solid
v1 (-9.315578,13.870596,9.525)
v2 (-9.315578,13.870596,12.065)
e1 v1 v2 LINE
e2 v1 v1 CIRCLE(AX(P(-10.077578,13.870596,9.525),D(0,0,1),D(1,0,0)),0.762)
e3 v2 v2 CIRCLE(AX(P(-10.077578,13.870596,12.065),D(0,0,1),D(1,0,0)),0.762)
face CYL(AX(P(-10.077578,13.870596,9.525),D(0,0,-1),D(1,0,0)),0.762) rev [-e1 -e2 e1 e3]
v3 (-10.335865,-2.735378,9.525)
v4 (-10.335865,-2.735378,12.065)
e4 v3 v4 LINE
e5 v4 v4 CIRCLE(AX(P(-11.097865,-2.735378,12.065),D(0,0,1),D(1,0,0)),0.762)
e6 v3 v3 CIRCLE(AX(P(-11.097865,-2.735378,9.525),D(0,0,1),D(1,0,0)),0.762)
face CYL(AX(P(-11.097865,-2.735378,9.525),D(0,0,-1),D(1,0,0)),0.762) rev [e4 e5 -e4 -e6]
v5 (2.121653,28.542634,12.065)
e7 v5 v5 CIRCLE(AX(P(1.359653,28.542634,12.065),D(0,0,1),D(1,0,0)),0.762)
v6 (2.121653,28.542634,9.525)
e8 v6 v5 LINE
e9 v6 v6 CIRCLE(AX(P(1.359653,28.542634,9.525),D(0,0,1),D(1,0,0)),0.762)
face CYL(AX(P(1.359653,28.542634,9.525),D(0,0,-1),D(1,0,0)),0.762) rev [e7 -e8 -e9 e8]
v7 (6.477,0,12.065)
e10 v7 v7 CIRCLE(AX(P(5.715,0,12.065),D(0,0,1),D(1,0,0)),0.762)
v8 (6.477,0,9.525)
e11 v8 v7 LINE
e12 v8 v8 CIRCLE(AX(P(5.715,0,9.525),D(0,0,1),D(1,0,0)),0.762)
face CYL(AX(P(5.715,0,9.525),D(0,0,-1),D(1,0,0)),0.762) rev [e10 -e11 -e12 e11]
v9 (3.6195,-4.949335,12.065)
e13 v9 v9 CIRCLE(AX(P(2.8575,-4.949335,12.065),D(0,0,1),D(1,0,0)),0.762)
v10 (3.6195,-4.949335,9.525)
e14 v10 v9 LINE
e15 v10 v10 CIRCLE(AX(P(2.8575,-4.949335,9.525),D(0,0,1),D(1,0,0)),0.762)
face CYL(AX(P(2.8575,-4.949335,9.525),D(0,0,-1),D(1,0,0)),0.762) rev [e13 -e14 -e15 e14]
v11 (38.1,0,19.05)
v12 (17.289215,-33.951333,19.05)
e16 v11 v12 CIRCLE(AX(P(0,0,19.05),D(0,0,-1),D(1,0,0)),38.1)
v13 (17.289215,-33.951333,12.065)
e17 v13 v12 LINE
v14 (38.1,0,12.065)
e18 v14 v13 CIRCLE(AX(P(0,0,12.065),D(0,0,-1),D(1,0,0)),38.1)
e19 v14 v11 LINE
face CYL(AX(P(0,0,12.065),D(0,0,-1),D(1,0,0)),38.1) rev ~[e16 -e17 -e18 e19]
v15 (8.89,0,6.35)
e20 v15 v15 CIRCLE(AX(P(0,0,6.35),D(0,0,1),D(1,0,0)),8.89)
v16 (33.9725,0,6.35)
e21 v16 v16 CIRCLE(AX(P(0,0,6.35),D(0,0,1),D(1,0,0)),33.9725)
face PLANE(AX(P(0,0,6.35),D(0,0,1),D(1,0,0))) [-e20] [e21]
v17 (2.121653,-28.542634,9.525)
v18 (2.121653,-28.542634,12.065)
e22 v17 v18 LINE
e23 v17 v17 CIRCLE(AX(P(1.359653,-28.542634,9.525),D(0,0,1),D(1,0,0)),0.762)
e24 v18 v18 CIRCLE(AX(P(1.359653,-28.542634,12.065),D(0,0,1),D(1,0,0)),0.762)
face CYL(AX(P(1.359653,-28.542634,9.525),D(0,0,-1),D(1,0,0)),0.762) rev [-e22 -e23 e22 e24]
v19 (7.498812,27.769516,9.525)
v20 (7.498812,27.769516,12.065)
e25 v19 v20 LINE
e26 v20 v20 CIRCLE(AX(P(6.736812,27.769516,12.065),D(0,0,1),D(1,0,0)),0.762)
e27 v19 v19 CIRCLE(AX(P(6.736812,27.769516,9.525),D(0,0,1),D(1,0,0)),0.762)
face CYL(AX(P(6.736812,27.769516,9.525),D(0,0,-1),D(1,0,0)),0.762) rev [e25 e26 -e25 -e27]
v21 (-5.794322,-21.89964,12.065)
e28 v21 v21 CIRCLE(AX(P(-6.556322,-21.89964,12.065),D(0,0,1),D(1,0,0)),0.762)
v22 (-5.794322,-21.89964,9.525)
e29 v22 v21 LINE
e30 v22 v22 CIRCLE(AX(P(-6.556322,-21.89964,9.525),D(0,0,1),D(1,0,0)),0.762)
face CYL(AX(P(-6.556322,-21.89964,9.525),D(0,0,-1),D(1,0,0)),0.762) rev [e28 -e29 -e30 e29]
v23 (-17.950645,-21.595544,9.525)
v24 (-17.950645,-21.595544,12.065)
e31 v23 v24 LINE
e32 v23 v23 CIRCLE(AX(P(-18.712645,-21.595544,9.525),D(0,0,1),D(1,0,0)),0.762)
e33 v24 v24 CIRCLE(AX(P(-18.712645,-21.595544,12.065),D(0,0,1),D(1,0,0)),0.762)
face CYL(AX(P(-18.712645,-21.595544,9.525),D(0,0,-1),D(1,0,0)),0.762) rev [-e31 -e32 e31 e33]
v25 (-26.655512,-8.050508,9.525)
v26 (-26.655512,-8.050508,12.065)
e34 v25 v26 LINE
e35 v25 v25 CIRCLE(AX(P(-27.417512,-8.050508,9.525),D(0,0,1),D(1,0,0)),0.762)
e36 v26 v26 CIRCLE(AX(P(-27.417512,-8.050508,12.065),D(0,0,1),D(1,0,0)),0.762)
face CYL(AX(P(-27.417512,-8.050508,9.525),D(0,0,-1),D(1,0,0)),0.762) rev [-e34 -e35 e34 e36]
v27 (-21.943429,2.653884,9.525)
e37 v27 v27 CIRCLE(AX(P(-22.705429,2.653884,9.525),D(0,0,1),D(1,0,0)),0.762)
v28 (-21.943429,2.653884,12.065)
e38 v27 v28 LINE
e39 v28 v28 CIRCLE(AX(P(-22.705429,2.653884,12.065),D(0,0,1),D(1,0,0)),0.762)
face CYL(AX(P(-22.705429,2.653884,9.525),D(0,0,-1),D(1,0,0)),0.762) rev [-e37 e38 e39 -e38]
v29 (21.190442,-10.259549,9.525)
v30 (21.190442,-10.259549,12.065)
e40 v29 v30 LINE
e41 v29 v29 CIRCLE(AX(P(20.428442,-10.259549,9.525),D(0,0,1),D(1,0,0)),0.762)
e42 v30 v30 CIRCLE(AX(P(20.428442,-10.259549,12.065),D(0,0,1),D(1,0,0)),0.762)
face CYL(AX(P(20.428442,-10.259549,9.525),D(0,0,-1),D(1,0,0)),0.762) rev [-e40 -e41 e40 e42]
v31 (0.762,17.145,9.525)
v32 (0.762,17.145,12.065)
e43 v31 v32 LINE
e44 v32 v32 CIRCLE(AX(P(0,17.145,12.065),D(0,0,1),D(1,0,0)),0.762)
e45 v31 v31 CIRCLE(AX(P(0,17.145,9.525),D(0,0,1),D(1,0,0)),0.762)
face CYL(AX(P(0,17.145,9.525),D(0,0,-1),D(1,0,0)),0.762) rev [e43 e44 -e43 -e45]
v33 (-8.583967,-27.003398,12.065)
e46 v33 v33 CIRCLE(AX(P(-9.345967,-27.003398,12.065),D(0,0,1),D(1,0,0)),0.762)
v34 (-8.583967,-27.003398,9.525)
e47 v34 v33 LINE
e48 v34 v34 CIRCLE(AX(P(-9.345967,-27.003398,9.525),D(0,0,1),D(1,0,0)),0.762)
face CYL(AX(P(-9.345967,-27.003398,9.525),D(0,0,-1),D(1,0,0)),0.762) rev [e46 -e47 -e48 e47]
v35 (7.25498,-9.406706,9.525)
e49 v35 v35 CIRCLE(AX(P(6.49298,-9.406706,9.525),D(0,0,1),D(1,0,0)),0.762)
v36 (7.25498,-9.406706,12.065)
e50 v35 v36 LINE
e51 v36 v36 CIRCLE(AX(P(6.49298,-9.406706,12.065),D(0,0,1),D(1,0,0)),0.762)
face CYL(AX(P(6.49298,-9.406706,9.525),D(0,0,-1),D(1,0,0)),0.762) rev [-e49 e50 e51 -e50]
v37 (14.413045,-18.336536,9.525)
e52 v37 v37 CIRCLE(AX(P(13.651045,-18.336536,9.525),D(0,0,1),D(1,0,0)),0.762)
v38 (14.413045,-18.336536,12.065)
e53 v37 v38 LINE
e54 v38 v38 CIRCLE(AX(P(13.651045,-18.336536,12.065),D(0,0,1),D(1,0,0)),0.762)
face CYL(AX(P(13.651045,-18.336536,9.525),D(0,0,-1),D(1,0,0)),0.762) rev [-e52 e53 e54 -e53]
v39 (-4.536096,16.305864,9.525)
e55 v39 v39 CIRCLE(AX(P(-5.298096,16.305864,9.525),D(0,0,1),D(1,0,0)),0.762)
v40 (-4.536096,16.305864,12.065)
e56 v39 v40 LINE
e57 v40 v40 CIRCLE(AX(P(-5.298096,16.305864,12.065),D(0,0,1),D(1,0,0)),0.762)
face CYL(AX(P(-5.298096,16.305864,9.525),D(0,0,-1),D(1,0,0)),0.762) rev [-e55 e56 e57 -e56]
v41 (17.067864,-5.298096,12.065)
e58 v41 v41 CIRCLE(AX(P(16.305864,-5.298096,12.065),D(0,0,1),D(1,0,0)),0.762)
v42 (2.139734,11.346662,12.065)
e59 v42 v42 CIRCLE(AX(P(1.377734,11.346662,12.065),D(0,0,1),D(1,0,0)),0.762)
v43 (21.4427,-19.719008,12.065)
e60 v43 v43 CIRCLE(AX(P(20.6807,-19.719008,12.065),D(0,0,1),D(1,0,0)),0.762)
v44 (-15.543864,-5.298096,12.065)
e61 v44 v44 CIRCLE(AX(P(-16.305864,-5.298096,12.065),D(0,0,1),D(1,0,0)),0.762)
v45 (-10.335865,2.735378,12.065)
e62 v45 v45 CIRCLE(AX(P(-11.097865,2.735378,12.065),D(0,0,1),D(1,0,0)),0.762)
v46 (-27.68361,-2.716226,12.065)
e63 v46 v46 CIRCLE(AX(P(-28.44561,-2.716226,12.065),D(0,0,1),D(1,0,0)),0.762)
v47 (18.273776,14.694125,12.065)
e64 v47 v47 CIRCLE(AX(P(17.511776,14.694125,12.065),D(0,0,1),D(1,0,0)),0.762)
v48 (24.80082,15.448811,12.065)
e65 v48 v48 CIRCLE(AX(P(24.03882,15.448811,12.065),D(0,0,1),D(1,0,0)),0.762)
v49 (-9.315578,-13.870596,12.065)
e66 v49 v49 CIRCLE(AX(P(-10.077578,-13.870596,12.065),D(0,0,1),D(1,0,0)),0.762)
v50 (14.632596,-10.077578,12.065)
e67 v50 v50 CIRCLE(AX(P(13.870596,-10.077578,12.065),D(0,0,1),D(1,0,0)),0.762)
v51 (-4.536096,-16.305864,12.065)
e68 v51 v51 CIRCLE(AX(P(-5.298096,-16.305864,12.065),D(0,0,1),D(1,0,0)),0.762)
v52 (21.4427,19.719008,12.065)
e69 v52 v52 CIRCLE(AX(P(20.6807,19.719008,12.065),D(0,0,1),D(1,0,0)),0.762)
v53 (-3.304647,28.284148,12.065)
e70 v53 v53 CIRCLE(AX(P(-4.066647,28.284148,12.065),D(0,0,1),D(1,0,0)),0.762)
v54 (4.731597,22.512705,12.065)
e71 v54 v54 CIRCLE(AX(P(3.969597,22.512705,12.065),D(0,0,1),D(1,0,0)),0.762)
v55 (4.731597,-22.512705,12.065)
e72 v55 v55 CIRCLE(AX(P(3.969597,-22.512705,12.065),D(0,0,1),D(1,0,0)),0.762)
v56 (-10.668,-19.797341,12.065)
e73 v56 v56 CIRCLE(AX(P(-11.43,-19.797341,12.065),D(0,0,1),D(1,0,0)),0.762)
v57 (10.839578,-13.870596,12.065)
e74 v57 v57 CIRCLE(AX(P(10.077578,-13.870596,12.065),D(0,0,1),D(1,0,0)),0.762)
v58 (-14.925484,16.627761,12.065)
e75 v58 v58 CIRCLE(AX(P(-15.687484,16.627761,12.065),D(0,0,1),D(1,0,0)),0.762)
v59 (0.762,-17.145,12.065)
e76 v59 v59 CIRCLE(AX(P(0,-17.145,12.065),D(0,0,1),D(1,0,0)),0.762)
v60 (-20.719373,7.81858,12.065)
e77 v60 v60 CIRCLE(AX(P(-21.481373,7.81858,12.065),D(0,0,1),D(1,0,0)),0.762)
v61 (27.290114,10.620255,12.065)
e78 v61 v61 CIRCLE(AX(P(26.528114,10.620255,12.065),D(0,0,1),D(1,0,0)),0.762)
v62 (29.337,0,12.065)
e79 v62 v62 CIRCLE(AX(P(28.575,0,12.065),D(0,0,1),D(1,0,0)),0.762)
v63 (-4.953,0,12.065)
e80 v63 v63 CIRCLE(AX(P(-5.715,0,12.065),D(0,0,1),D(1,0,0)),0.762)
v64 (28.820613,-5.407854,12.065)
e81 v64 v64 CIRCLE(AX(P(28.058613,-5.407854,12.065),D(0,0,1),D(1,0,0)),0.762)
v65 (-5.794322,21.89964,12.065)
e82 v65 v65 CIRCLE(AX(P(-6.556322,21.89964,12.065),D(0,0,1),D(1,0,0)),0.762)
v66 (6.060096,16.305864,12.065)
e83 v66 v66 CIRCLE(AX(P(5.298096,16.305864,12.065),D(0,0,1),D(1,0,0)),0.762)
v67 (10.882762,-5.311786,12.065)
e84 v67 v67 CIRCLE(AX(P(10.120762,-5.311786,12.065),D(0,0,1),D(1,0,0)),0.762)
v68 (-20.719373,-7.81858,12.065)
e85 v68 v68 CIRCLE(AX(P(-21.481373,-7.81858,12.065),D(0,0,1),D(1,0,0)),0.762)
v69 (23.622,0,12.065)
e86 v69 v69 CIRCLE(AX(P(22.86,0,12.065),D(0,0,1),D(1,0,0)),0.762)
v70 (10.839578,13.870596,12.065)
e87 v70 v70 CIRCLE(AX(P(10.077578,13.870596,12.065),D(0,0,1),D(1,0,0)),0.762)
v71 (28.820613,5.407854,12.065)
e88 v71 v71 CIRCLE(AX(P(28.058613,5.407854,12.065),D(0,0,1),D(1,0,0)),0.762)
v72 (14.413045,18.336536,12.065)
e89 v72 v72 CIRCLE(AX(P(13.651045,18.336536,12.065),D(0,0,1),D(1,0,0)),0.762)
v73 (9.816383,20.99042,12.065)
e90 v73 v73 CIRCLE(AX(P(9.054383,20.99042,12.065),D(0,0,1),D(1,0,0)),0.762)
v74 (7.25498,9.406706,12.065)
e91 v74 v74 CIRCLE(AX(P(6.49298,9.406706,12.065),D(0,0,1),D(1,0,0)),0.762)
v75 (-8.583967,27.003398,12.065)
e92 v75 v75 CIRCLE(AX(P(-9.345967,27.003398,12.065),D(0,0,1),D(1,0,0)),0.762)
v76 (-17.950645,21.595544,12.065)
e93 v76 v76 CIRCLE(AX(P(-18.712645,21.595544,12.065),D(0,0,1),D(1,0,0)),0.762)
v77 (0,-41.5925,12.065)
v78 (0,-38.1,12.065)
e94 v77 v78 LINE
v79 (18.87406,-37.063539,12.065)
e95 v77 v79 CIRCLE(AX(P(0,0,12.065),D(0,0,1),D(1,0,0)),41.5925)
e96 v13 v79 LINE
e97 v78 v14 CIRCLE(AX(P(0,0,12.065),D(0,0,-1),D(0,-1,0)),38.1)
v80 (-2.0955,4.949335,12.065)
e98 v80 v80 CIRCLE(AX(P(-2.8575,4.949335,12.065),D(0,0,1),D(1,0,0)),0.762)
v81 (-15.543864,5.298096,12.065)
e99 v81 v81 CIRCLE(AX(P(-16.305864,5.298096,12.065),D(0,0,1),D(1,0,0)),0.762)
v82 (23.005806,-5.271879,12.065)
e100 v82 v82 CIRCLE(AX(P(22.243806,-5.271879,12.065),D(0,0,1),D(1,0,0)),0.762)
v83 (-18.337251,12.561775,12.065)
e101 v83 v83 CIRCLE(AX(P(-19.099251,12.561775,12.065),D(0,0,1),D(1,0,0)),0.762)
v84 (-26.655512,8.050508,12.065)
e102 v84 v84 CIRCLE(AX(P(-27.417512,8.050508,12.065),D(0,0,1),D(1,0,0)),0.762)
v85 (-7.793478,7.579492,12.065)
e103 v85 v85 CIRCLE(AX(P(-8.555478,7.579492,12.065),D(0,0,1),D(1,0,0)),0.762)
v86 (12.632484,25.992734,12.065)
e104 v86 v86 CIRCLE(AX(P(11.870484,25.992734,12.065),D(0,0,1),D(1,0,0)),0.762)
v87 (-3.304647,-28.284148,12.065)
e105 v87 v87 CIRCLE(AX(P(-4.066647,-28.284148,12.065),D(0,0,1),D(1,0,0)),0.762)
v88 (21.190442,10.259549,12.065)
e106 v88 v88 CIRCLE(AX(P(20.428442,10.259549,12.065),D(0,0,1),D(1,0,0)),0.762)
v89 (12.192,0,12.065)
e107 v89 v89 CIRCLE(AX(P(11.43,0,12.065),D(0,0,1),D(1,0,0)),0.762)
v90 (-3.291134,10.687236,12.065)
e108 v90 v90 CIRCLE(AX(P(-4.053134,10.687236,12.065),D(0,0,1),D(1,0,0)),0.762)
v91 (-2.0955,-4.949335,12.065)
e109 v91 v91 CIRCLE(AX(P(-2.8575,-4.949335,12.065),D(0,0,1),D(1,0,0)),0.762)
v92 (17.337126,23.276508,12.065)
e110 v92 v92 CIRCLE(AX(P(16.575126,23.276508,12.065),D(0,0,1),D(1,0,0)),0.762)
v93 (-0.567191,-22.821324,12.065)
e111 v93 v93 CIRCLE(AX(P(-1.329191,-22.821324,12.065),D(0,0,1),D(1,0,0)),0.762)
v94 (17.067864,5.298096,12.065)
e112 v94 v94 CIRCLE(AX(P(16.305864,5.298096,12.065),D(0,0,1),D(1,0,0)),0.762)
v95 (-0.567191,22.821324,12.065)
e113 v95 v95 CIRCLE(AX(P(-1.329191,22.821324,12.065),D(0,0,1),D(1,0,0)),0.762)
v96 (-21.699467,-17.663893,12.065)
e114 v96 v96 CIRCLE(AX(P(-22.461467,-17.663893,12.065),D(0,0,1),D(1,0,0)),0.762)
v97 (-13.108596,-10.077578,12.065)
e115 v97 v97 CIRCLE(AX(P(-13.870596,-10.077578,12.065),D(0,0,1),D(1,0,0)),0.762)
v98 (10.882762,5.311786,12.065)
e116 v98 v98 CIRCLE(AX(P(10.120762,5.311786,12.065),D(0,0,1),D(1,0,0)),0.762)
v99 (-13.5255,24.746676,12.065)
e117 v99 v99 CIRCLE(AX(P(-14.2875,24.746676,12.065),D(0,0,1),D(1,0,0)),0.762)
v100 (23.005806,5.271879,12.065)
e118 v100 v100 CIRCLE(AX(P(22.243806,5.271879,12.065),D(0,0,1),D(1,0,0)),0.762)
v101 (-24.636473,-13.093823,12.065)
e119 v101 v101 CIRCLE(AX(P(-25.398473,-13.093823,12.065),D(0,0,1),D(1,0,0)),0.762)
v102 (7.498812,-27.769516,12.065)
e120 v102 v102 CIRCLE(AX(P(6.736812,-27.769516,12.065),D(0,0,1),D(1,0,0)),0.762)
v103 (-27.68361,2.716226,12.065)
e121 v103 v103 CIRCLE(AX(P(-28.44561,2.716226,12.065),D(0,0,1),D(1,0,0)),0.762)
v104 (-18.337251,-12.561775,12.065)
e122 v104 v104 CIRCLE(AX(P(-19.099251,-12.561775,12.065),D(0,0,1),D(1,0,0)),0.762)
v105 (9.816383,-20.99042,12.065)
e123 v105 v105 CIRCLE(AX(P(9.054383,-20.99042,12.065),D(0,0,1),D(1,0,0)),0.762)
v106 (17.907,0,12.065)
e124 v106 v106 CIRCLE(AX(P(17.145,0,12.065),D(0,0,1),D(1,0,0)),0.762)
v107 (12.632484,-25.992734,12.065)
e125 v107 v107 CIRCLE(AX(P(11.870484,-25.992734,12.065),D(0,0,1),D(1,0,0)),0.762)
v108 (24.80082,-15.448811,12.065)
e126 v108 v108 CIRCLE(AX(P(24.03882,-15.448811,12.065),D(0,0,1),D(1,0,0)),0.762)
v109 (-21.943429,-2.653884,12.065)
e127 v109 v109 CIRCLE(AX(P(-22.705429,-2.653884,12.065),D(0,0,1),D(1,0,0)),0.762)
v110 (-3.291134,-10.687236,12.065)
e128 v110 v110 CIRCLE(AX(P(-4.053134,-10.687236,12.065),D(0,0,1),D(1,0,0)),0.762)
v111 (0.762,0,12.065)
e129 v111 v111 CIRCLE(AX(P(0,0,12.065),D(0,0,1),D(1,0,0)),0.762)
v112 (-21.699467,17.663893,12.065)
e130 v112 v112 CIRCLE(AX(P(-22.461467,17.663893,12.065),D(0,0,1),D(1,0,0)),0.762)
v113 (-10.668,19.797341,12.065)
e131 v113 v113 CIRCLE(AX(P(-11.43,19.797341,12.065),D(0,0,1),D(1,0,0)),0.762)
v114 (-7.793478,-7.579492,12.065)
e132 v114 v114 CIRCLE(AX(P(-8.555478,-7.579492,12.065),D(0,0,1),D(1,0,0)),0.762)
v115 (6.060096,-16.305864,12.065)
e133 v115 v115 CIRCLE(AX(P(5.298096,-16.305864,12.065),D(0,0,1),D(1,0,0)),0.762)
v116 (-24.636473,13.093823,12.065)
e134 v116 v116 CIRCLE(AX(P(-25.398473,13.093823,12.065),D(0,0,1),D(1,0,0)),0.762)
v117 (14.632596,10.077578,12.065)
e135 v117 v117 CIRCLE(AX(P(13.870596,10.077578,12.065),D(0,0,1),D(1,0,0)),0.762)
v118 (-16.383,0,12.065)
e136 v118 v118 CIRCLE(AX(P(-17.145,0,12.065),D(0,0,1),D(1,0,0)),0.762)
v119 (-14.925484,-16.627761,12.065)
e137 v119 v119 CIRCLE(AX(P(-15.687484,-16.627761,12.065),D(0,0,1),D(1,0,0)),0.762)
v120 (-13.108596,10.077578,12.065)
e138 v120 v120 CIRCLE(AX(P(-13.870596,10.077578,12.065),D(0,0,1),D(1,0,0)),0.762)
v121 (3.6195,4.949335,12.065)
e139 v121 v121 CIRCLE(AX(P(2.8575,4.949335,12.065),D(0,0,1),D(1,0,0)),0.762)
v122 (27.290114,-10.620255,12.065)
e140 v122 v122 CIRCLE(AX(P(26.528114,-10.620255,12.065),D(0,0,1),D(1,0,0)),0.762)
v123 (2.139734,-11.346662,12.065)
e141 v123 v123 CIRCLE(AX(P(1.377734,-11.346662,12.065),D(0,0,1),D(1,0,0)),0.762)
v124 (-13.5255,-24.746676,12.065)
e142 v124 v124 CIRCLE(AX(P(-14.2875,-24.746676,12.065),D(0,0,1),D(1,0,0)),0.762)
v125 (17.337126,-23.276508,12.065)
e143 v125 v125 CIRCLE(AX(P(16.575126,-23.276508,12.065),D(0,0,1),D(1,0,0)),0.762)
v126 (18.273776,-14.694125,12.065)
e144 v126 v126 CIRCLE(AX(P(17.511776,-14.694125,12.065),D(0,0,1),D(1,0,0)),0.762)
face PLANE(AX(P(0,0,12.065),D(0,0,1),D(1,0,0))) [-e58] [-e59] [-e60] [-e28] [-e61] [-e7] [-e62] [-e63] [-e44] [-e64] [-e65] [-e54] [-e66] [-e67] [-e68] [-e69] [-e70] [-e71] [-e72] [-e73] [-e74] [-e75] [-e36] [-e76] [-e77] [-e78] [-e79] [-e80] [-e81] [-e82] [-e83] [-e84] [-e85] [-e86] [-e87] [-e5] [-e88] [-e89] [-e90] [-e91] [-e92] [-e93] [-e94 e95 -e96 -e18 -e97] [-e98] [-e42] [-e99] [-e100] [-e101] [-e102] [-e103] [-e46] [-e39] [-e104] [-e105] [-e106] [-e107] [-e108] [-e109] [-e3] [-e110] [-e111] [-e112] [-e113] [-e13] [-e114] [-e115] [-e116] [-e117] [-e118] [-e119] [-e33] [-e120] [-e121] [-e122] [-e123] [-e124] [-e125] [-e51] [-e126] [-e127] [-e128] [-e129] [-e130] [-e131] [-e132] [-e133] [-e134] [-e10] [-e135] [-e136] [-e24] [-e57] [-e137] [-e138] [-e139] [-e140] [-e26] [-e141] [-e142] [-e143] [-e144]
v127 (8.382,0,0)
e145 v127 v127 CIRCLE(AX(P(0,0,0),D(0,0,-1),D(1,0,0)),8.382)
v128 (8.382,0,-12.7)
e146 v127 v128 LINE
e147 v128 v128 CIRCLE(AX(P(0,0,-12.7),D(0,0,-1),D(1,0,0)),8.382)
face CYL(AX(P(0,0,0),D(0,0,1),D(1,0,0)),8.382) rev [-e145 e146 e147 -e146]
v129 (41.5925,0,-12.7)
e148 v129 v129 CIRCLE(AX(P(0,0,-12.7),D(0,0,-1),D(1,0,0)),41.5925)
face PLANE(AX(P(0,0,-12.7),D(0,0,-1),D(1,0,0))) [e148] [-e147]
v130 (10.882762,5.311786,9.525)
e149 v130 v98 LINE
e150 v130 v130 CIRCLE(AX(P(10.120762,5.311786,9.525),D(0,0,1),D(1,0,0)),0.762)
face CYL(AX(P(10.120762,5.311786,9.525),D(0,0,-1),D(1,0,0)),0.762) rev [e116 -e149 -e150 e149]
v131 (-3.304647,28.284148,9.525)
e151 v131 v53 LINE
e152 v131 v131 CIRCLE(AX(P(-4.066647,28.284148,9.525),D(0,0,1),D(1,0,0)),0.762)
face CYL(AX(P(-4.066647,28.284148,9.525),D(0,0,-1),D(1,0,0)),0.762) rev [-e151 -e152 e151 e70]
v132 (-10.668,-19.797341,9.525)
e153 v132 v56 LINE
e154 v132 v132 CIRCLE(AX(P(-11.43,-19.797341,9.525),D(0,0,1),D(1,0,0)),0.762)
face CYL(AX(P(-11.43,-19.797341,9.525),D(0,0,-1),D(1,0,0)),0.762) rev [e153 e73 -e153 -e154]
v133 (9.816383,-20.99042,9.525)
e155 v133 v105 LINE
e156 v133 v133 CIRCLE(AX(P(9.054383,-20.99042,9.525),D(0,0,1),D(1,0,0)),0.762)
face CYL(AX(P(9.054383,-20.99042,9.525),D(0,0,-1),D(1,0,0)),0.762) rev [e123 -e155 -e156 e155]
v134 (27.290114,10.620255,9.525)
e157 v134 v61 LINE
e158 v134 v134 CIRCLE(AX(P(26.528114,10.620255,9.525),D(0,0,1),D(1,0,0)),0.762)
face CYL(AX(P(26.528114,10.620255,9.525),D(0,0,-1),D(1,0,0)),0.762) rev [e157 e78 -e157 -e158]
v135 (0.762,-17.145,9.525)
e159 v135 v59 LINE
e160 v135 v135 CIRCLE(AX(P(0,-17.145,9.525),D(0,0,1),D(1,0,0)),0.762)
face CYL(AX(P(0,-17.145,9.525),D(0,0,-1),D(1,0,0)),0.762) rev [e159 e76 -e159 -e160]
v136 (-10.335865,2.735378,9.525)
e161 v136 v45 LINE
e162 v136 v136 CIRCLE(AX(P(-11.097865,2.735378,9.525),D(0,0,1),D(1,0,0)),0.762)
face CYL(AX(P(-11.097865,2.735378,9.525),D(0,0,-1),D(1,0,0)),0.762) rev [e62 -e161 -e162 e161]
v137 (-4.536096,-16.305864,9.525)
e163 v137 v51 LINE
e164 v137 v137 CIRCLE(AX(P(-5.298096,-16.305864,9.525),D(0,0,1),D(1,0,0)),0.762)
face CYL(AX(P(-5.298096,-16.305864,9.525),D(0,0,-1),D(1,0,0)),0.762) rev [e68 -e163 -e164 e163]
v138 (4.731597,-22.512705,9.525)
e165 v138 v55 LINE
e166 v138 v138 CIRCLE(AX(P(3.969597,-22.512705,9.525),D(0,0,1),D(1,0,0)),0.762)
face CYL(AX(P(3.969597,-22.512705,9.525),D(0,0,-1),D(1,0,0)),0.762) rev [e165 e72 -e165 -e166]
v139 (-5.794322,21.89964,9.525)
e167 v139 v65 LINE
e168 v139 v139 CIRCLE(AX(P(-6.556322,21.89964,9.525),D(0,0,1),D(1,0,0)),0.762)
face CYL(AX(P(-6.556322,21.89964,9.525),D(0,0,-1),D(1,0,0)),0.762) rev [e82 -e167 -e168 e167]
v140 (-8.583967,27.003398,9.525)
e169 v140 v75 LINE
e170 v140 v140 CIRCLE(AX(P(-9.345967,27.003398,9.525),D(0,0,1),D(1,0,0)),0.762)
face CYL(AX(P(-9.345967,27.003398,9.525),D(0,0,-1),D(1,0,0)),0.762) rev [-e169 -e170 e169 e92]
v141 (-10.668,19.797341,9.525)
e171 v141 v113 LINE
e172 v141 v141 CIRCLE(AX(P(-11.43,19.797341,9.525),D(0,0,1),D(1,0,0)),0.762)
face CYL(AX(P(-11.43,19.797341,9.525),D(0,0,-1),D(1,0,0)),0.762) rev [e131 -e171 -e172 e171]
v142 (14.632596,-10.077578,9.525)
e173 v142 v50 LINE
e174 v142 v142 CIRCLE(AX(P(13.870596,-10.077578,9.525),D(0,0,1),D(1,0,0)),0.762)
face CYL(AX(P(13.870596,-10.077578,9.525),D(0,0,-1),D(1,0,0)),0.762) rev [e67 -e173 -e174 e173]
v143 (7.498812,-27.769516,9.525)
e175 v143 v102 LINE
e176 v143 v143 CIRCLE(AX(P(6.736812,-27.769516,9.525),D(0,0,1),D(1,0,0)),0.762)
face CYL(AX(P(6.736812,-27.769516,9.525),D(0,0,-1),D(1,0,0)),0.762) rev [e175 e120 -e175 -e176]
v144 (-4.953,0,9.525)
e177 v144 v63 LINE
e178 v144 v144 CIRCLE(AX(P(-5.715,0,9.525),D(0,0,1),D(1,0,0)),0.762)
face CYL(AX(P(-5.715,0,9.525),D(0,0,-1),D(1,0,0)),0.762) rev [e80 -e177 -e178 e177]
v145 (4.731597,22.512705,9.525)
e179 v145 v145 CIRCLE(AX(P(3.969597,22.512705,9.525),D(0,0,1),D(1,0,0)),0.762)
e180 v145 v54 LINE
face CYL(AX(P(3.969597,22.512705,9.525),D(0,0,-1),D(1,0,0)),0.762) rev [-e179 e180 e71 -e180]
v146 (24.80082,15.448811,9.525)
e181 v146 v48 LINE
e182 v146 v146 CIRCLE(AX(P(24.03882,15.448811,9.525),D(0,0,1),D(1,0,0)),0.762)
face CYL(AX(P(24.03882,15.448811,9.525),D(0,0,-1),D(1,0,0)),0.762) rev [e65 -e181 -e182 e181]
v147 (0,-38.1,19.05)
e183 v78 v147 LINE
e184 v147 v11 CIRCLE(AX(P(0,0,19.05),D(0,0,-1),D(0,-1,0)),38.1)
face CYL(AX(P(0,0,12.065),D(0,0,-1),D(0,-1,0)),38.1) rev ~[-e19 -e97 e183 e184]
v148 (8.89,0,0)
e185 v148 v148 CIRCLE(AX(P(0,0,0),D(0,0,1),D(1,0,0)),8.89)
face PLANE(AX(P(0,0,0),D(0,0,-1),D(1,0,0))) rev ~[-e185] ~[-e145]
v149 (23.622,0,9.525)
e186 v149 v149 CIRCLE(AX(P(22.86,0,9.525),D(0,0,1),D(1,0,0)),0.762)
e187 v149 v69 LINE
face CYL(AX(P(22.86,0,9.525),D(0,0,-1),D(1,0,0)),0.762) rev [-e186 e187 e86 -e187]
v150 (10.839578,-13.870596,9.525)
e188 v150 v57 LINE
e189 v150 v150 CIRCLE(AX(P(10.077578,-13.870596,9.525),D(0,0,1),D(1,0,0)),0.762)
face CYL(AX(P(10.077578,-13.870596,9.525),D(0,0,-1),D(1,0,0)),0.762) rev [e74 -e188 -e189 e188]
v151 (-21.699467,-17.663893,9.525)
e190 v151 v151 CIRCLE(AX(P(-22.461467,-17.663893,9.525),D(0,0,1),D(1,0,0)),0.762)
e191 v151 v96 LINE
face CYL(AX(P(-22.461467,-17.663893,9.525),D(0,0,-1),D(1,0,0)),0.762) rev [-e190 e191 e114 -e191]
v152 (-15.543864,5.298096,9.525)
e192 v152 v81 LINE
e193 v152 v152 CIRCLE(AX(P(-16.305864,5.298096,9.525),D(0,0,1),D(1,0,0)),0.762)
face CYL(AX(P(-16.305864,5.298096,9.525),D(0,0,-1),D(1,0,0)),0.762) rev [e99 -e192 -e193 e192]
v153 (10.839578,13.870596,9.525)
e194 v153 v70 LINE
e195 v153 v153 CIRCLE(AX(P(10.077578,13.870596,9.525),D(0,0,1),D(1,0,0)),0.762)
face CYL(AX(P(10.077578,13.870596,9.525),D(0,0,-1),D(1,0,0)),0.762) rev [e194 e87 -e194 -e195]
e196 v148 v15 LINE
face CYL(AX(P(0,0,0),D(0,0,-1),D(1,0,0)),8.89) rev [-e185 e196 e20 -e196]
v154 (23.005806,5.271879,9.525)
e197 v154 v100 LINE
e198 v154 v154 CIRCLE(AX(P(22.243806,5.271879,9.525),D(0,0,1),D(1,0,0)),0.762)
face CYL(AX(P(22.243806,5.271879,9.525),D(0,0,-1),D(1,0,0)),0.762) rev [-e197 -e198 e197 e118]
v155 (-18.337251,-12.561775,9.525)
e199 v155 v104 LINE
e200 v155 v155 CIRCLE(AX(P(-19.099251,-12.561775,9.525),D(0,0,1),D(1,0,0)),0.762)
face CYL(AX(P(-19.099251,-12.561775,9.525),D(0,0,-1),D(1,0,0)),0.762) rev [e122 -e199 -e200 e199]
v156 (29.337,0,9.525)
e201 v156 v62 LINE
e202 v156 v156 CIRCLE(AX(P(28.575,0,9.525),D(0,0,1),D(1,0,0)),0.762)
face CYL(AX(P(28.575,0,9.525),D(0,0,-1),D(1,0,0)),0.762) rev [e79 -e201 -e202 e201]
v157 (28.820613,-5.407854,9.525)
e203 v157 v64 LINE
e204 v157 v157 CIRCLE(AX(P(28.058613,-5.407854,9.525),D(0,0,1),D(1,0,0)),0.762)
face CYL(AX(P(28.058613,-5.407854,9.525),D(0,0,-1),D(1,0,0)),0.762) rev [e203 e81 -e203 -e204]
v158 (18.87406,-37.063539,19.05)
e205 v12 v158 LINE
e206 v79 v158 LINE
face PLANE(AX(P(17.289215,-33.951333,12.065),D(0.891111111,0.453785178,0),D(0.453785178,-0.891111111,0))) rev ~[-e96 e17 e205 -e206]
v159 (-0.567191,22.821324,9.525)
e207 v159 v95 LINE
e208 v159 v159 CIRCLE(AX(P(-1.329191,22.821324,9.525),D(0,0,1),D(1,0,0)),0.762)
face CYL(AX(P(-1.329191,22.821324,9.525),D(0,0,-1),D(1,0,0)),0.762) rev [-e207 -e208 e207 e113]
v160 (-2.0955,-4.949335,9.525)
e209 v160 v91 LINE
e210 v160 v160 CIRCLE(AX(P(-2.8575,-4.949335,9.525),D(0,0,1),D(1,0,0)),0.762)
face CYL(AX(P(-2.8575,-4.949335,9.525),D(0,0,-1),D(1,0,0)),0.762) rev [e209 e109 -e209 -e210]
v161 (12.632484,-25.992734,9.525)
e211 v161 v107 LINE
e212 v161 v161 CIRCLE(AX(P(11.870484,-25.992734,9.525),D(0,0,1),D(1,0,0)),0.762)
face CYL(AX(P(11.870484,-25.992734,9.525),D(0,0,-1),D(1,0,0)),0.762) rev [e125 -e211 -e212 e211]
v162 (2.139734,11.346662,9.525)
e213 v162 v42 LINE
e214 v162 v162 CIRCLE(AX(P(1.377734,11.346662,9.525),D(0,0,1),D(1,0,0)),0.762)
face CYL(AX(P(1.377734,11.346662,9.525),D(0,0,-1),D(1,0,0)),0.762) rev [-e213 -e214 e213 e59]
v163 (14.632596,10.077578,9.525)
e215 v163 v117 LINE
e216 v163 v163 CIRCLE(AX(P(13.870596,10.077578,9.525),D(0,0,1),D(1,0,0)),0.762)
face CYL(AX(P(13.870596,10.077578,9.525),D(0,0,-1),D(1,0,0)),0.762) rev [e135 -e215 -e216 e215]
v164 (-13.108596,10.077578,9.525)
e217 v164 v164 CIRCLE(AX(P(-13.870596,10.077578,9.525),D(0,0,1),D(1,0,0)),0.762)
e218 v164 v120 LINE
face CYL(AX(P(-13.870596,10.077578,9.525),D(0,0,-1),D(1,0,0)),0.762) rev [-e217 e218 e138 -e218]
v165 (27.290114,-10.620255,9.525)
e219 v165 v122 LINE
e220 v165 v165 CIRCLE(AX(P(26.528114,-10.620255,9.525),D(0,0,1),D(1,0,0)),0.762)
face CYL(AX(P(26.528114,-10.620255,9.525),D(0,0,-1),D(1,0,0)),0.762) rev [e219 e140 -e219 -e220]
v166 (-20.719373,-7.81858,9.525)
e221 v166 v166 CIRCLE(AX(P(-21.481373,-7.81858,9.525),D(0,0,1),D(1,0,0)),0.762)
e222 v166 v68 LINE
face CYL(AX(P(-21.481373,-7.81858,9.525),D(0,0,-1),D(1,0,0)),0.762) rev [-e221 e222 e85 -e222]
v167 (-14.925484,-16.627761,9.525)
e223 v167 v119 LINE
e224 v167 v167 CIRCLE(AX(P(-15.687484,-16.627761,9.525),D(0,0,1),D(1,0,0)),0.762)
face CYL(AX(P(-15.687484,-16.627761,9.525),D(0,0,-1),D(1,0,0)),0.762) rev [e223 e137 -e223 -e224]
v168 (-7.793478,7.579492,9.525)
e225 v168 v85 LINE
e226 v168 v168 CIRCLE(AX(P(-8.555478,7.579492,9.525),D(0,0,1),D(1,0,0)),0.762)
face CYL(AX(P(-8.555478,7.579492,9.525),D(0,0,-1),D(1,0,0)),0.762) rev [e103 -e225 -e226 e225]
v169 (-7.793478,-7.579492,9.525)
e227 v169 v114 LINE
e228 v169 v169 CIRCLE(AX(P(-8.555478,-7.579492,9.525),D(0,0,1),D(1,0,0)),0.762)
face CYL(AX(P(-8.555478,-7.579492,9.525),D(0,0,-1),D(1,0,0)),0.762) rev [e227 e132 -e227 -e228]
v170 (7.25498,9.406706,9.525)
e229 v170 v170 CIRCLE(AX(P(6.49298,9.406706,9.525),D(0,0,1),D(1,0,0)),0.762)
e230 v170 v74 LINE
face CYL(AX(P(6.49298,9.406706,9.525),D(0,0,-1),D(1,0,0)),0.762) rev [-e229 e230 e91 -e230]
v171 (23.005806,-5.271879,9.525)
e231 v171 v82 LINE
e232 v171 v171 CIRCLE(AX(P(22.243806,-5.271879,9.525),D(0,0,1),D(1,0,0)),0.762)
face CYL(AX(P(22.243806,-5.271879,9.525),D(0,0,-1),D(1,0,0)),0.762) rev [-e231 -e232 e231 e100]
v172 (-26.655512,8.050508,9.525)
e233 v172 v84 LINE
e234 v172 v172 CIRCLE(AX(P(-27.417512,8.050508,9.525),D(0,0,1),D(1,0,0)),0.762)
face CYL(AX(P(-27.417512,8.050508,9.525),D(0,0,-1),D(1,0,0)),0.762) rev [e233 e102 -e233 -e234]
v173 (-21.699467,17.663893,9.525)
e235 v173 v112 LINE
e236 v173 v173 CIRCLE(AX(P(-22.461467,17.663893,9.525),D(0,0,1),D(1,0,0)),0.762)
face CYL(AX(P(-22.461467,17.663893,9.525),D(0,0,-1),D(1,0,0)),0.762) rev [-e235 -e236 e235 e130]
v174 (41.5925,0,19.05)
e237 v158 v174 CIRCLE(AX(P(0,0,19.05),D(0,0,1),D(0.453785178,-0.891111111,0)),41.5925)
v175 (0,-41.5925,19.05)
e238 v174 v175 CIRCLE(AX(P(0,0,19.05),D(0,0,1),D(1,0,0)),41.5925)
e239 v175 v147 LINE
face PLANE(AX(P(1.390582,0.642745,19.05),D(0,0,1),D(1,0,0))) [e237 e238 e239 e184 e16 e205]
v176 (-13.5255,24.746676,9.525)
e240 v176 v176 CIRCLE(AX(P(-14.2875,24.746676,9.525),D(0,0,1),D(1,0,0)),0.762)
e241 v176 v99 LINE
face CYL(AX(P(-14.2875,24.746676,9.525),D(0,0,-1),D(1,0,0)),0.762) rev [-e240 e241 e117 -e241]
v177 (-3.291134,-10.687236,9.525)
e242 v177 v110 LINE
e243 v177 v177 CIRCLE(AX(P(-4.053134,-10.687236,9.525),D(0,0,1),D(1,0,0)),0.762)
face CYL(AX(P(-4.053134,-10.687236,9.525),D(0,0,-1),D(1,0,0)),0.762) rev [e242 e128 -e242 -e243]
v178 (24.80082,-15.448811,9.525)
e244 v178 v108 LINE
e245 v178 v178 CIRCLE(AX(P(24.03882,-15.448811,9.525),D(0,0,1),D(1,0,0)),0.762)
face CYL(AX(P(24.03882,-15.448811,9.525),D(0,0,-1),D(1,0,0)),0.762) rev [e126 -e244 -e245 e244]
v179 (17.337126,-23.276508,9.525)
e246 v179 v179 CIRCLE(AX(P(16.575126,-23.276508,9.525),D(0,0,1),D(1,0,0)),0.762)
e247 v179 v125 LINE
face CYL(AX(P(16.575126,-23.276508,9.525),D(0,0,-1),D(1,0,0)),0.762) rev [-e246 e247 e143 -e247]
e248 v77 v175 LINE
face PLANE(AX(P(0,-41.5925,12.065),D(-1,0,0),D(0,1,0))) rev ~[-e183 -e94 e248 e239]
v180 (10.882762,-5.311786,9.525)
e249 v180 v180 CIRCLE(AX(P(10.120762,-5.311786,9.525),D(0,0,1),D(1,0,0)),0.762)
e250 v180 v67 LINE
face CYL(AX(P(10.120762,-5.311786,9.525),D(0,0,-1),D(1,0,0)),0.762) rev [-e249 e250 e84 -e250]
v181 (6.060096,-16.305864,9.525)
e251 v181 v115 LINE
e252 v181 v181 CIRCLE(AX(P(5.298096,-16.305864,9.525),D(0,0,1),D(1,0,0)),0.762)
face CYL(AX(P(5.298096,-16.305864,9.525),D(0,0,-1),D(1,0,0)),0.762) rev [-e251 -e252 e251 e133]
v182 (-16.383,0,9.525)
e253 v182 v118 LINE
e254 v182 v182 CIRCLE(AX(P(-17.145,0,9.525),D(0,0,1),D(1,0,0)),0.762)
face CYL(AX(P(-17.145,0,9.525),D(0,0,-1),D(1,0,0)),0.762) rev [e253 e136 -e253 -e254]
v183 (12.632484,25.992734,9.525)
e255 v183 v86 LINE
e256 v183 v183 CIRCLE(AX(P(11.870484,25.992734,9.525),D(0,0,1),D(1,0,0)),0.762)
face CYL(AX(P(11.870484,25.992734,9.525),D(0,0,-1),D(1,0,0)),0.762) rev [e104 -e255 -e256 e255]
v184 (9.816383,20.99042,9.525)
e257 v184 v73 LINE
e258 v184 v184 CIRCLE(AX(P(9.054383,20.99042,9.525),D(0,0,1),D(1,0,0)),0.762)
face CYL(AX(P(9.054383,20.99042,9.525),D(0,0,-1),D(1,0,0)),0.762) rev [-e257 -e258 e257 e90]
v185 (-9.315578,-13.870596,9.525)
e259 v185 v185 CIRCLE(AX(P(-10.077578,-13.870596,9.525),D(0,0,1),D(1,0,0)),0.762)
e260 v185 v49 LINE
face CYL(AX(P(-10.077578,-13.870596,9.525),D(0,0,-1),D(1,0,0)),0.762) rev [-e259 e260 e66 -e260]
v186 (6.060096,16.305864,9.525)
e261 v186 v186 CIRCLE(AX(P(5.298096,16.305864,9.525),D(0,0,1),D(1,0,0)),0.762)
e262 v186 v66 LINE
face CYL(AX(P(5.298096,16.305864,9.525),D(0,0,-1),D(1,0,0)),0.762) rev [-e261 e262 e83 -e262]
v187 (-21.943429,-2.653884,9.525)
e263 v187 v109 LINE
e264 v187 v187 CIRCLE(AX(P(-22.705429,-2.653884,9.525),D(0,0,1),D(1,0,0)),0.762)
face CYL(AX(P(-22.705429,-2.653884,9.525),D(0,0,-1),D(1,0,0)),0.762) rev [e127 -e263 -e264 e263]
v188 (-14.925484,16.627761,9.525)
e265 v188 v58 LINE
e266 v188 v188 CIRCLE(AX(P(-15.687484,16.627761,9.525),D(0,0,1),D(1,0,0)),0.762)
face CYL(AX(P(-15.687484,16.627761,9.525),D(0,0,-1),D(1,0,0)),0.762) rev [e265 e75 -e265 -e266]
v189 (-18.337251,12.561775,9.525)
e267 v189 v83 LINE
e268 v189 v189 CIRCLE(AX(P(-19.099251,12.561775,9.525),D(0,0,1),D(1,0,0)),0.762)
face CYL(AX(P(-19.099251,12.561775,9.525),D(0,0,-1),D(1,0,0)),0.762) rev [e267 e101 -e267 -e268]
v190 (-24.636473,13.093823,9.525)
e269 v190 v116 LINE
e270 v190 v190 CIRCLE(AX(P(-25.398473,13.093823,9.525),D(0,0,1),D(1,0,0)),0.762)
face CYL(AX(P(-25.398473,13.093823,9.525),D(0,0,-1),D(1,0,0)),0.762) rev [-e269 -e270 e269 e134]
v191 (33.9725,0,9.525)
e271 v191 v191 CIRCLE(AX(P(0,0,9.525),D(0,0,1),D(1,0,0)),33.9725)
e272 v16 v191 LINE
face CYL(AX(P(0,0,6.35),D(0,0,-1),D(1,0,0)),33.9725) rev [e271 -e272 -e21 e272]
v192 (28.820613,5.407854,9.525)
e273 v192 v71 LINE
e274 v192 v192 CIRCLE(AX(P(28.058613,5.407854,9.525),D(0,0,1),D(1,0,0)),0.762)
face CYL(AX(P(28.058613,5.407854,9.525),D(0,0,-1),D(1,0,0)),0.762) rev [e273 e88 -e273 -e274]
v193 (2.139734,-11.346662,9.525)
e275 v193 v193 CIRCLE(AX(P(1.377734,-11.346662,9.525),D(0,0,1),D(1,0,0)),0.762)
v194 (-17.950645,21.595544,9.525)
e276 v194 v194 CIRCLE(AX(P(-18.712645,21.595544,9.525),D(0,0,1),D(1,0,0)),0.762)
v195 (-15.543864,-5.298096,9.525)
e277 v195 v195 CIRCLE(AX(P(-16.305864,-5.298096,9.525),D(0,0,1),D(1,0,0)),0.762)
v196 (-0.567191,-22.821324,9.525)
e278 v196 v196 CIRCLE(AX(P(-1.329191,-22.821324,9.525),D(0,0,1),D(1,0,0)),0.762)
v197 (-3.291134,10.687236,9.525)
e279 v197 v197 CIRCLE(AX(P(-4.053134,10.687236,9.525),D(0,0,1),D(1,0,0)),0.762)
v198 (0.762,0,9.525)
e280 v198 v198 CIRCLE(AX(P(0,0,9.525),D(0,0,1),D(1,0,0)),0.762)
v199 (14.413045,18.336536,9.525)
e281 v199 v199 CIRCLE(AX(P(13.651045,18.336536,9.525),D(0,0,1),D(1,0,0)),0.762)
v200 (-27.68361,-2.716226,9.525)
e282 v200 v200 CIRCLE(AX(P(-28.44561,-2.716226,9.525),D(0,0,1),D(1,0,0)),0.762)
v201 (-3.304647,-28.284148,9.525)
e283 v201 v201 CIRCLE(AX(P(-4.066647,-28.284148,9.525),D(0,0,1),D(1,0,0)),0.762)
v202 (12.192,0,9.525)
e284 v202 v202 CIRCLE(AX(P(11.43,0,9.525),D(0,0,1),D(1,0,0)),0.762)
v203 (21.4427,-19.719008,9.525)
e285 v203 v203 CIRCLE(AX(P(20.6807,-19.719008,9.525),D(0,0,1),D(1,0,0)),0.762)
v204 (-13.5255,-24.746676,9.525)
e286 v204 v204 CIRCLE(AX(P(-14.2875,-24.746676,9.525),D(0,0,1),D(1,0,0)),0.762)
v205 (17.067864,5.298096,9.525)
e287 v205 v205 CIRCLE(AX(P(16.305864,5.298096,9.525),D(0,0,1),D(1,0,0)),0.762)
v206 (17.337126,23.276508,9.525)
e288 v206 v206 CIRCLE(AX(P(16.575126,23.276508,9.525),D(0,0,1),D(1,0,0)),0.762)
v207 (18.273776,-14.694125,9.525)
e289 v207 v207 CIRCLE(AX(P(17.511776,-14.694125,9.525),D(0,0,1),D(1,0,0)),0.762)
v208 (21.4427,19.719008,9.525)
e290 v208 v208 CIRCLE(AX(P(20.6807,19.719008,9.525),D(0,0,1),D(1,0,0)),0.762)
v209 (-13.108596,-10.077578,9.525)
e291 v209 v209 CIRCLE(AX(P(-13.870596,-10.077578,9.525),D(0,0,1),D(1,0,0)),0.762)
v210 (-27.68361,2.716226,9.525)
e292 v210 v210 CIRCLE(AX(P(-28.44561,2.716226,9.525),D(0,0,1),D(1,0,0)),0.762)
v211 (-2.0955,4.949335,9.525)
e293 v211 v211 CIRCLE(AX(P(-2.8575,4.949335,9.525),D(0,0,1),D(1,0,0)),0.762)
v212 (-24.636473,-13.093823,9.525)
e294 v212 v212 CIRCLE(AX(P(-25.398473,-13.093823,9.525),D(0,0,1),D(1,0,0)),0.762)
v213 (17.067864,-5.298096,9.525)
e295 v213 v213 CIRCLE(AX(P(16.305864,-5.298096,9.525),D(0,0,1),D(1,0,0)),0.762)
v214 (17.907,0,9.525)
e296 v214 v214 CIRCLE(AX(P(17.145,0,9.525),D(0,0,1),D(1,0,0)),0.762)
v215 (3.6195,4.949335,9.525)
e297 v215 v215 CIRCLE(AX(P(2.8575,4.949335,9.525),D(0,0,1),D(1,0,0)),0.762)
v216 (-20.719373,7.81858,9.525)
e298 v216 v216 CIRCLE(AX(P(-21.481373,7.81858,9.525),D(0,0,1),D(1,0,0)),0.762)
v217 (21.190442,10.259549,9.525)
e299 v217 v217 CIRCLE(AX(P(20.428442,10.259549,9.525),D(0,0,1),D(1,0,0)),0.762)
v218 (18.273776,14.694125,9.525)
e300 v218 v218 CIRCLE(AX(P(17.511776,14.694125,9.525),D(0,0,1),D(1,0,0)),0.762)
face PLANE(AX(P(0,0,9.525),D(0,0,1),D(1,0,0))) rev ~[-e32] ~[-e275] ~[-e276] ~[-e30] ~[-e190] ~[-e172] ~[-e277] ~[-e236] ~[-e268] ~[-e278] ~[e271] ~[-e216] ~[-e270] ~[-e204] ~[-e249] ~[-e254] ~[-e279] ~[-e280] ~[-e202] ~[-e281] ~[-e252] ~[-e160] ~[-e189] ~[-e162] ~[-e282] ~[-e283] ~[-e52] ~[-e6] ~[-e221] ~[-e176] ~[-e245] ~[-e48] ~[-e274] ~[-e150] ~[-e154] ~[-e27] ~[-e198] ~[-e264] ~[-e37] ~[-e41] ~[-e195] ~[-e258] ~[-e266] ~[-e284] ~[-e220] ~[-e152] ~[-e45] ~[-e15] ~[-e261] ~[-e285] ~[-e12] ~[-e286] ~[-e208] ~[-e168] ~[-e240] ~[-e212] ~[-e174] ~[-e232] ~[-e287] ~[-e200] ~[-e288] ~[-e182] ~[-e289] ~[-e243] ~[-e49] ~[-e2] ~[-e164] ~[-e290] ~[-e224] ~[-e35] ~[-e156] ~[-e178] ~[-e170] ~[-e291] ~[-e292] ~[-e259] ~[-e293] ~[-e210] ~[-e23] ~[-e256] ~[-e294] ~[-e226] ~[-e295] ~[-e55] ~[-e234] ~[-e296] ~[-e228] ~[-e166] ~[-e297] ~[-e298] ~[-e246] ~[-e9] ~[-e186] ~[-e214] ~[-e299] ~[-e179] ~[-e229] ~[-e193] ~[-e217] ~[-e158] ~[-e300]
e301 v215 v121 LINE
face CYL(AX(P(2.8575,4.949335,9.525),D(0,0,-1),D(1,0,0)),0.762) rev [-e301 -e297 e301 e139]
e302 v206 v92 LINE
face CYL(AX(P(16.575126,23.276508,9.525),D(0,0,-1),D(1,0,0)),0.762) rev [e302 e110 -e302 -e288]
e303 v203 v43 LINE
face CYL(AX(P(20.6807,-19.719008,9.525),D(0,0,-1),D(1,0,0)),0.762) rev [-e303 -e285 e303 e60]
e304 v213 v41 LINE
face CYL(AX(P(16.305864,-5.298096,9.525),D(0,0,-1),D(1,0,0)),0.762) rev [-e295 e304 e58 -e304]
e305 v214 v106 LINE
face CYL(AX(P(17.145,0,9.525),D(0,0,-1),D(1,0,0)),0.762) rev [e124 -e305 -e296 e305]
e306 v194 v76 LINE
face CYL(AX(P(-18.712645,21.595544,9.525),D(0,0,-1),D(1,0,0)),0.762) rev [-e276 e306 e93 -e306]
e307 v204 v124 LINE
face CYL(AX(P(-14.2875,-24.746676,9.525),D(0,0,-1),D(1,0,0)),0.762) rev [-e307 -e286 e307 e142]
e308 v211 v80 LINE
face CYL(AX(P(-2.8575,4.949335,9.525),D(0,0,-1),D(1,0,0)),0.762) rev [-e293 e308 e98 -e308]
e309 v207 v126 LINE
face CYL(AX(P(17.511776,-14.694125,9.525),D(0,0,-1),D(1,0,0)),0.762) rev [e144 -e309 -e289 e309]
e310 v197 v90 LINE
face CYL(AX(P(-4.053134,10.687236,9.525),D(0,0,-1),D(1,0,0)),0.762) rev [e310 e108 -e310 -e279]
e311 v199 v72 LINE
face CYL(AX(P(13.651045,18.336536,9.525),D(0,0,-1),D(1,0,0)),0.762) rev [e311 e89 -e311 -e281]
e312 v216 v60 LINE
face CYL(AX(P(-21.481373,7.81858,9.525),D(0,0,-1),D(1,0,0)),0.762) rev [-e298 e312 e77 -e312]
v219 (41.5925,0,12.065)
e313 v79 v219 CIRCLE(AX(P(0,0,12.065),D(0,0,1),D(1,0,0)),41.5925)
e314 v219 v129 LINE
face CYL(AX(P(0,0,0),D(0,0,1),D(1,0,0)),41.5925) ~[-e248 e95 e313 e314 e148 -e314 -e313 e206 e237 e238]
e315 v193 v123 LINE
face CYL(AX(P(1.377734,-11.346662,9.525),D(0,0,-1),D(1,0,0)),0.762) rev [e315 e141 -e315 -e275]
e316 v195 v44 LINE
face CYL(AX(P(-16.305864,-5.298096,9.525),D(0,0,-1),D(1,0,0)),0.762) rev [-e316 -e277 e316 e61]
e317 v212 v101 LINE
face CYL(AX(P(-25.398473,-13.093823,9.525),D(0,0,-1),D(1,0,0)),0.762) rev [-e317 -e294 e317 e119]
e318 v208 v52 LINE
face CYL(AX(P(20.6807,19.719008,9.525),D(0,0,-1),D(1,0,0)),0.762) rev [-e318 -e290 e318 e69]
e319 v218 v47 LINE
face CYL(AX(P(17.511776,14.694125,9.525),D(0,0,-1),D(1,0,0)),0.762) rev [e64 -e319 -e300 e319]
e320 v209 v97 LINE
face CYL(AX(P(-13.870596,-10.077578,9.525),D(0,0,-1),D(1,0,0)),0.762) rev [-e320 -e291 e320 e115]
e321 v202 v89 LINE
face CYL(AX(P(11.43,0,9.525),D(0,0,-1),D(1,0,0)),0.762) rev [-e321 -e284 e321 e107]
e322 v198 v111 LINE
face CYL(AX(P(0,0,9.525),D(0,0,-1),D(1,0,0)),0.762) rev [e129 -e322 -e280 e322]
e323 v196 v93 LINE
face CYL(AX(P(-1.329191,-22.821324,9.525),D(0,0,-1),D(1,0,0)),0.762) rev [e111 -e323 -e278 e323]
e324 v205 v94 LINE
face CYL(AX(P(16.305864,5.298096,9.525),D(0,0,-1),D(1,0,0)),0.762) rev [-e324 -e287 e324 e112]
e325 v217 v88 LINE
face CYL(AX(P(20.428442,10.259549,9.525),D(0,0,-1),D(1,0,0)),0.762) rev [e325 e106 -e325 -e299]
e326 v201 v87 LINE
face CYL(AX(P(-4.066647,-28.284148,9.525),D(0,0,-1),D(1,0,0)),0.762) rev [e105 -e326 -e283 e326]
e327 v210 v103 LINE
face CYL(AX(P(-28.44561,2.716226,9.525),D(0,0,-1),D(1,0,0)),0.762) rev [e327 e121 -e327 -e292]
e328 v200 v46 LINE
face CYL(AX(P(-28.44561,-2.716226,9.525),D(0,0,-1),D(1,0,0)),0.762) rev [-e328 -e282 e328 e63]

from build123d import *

# Parameters (mm, degrees)
F0_R     = 41.5925
F0_R_2   = 8.89
F1_DEPTH = 6.35
F2_R     = 41.5925
F2_R_2   = 33.9725
F3_DEPTH = 3.175
F4_R     = 41.5925
F4_R_2   = 33.9725
F4_R_3   = 0.762
F5_DEPTH = 2.54
F7_DEPTH = 6.985
F8_R     = 41.5925
F8_W     = 50.8
F8_H     = 50.8
F8_R_2   = 8.89
F8_R_3   = 8.382
F9_DEPTH = 12.7


with BuildPart() as f1:
    # F0 (on Top) → F1 (new body)
    with BuildSketch(Plane.XY):
        Circle(F0_R)
        Circle(F0_R_2, mode=Mode.SUBTRACT)
    extrude(amount=F1_DEPTH)

    # F2 (on face) → F3 (join)
    with BuildSketch(Plane.XY.offset(6.35)):
        Circle(F2_R)
        Circle(F2_R_2, mode=Mode.SUBTRACT)
    extrude(amount=F3_DEPTH)

    # F4 (on face) → F5 (join)
    with BuildSketch(Plane.XY.offset(9.525)):
        Circle(F4_R)
        Circle(F4_R_2, mode=Mode.SUBTRACT)
        Circle(F4_R_2)
        with Locations((-18.7126454725, -21.5955440872)):
            Circle(F4_R_3, mode=Mode.SUBTRACT)
        with Locations((-14.2875, -24.7466759131)):
            Circle(F4_R_3, mode=Mode.SUBTRACT)
        with Locations((-9.3459670518, -27.0033983948)):
            Circle(F4_R_3, mode=Mode.SUBTRACT)
        with Locations((-4.0666465037, -28.2841477017)):
            Circle(F4_R_3, mode=Mode.SUBTRACT)
        with Locations((-6.5563218998, -21.8996402515)):
            Circle(F4_R_3, mode=Mode.SUBTRACT)
        with Locations((-1.3291907889, -22.8213244981)):
            Circle(F4_R_3, mode=Mode.SUBTRACT)
        with Locations((-22.4614671823, -17.6638930313)):
            Circle(F4_R_3, mode=Mode.SUBTRACT)
        with Locations((-25.3984729453, -13.0938228584)):
            Circle(F4_R_3, mode=Mode.SUBTRACT)
        with Locations((-27.417511721, -8.0505078117)):
            Circle(F4_R_3, mode=Mode.SUBTRACT)
        with Locations((-21.4813733112, -7.8185804764)):
            Circle(F4_R_3, mode=Mode.SUBTRACT)
        with Locations((-28.4456101875, -2.7162264374)):
            Circle(F4_R_3, mode=Mode.SUBTRACT)
        with Locations((-22.705428858, -2.6538840169)):
            Circle(F4_R_3, mode=Mode.SUBTRACT)
        with Locations((-15.6874838417, -16.6277614464)):
            Circle(F4_R_3, mode=Mode.SUBTRACT)
        with Locations((-11.43, -19.7973407305)):
            Circle(F4_R_3, mode=Mode.SUBTRACT)
        with Locations((-19.0992513689, -12.5617752387)):
            Circle(F4_R_3, mode=Mode.SUBTRACT)
        with Locations((-5.2980963686, -16.3058639719)):
            Circle(F4_R_3, mode=Mode.SUBTRACT)
        with Locations((-10.0775781506, -13.8705963686)):
            Circle(F4_R_3, mode=Mode.SUBTRACT)
        with Locations((-4.0531338589, -10.6872356539)):
            Circle(F4_R_3, mode=Mode.SUBTRACT)
        with Locations((-16.3058639719, -5.2980963686)):
            Circle(F4_R_3, mode=Mode.SUBTRACT)
        with Locations((-13.8705963686, -10.0775781506)):
            Circle(F4_R_3, mode=Mode.SUBTRACT)
        with Locations((-11.0978649732, -2.7353780428)):
            Circle(F4_R_3, mode=Mode.SUBTRACT)
        with Locations((-8.5554778516, -7.5794919837)):
            Circle(F4_R_3, mode=Mode.SUBTRACT)
        with Locations((-2.8575, -4.9493351826)):
            Circle(F4_R_3, mode=Mode.SUBTRACT)
        with Locations((1.3596532447, -28.5426342172)):
            Circle(F4_R_3, mode=Mode.SUBTRACT)
        with Locations((6.7368115822, -27.7695155648)):
            Circle(F4_R_3, mode=Mode.SUBTRACT)
        with Locations((3.9695973415, -22.5127052339)):
            Circle(F4_R_3, mode=Mode.SUBTRACT)
        with Locations((9.0543834517, -20.9904202033)):
            Circle(F4_R_3, mode=Mode.SUBTRACT)
        with Locations((11.8704839965, -25.9927342673)):
            Circle(F4_R_3, mode=Mode.SUBTRACT)
        with Locations((16.575126191, -23.2765078298)):
            Circle(F4_R_3, mode=Mode.SUBTRACT)
        with Locations((0, -17.145)):
            Circle(F4_R_3, mode=Mode.SUBTRACT)
        with Locations((5.2980963686, -16.3058639719)):
            Circle(F4_R_3, mode=Mode.SUBTRACT)
        with Locations((1.3777342553, -11.3466624309)):
            Circle(F4_R_3, mode=Mode.SUBTRACT)
        with Locations((10.0775781506, -13.8705963686)):
            Circle(F4_R_3, mode=Mode.SUBTRACT)
        with Locations((13.6510454063, -18.3365361864)):
            Circle(F4_R_3, mode=Mode.SUBTRACT)
        with Locations((20.6807001389, -19.7190077531)):
            Circle(F4_R_3, mode=Mode.SUBTRACT)
        with Locations((17.5117759697, -14.6941247574)):
            Circle(F4_R_3, mode=Mode.SUBTRACT)
        with Locations((6.4929800551, -9.4067055872)):
            Circle(F4_R_3, mode=Mode.SUBTRACT)
        with Locations((10.1207623732, -5.3117858565)):
            Circle(F4_R_3, mode=Mode.SUBTRACT)
        with Locations((2.8575, -4.9493351826)):
            Circle(F4_R_3, mode=Mode.SUBTRACT)
        with Locations((13.8705963686, -10.0775781506)):
            Circle(F4_R_3, mode=Mode.SUBTRACT)
        with Locations((20.4284421578, -10.2595492594)):
            Circle(F4_R_3, mode=Mode.SUBTRACT)
        with Locations((16.3058639719, -5.2980963686)):
            Circle(F4_R_3, mode=Mode.SUBTRACT)
        with Locations((24.0388197007, -15.4488113588)):
            Circle(F4_R_3, mode=Mode.SUBTRACT)
        with Locations((26.5281136859, -10.6202546705)):
            Circle(F4_R_3, mode=Mode.SUBTRACT)
        with Locations((22.2438057415, -5.2718788052)):
            Circle(F4_R_3, mode=Mode.SUBTRACT)
        with Locations((28.0586125243, -5.4078543076)):
            Circle(F4_R_3, mode=Mode.SUBTRACT)
        with Locations((-28.4456101875, 2.7162264374)):
            Circle(F4_R_3, mode=Mode.SUBTRACT)
        with Locations((-22.705428858, 2.6538840169)):
            Circle(F4_R_3, mode=Mode.SUBTRACT)
        with Locations((-27.417511721, 8.0505078117)):
            Circle(F4_R_3, mode=Mode.SUBTRACT)
        with Locations((-21.4813733112, 7.8185804764)):
            Circle(F4_R_3, mode=Mode.SUBTRACT)
        with Locations((-25.3984729453, 13.0938228584)):
            Circle(F4_R_3, mode=Mode.SUBTRACT)
        with Locations((-22.4614671823, 17.6638930313)):
            Circle(F4_R_3, mode=Mode.SUBTRACT)
        with Locations((-17.145, 0)):
            Circle(F4_R_3, mode=Mode.SUBTRACT)
        with Locations((-11.0978649732, 2.7353780428)):
            Circle(F4_R_3, mode=Mode.SUBTRACT)
        with Locations((-16.3058639719, 5.2980963686)):
            Circle(F4_R_3, mode=Mode.SUBTRACT)
        with Locations((-13.8705963686, 10.0775781506)):
            Circle(F4_R_3, mode=Mode.SUBTRACT)
        with Locations((-5.715, 0)):
            Circle(F4_R_3, mode=Mode.SUBTRACT)
        with Locations((-2.8575, 4.9493351826)):
            Circle(F4_R_3, mode=Mode.SUBTRACT)
        with Locations((-8.5554778516, 7.5794919837)):
            Circle(F4_R_3, mode=Mode.SUBTRACT)
        with Locations((-19.0992513689, 12.5617752387)):
            Circle(F4_R_3, mode=Mode.SUBTRACT)
        with Locations((-15.6874838417, 16.6277614464)):
            Circle(F4_R_3, mode=Mode.SUBTRACT)
        with Locations((-11.43, 19.7973407305)):
            Circle(F4_R_3, mode=Mode.SUBTRACT)
        with Locations((-10.0775781506, 13.8705963686)):
            Circle(F4_R_3, mode=Mode.SUBTRACT)
        with Locations((-4.0531338589, 10.6872356539)):
            Circle(F4_R_3, mode=Mode.SUBTRACT)
        with Locations((-5.2980963686, 16.3058639719)):
            Circle(F4_R_3, mode=Mode.SUBTRACT)
        with Locations((-18.7126454725, 21.5955440872)):
            Circle(F4_R_3, mode=Mode.SUBTRACT)
        with Locations((-14.2875, 24.7466759131)):
            Circle(F4_R_3, mode=Mode.SUBTRACT)
        with Locations((-6.5563218998, 21.8996402515)):
            Circle(F4_R_3, mode=Mode.SUBTRACT)
        with Locations((-1.3291907889, 22.8213244981)):
            Circle(F4_R_3, mode=Mode.SUBTRACT)
        with Locations((-9.3459670518, 27.0033983948)):
            Circle(F4_R_3, mode=Mode.SUBTRACT)
        with Locations((-4.0666465037, 28.2841477017)):
            Circle(F4_R_3, mode=Mode.SUBTRACT)
        Circle(F4_R_3, mode=Mode.SUBTRACT)
        with Locations((2.8575, 4.9493351826)):
            Circle(F4_R_3, mode=Mode.SUBTRACT)
        with Locations((5.715, 0)):
            Circle(F4_R_3, mode=Mode.SUBTRACT)
        with Locations((10.1207623732, 5.3117858565)):
            Circle(F4_R_3, mode=Mode.SUBTRACT)
        with Locations((6.4929800551, 9.4067055872)):
            Circle(F4_R_3, mode=Mode.SUBTRACT)
        with Locations((11.43, 0)):
            Circle(F4_R_3, mode=Mode.SUBTRACT)
        with Locations((17.145, 0)):
            Circle(F4_R_3, mode=Mode.SUBTRACT)
        with Locations((13.8705963686, 10.0775781506)):
            Circle(F4_R_3, mode=Mode.SUBTRACT)
        with Locations((16.3058639719, 5.2980963686)):
            Circle(F4_R_3, mode=Mode.SUBTRACT)
        with Locations((20.4284421578, 10.2595492594)):
            Circle(F4_R_3, mode=Mode.SUBTRACT)
        with Locations((1.3777342553, 11.3466624309)):
            Circle(F4_R_3, mode=Mode.SUBTRACT)
        with Locations((10.0775781506, 13.8705963686)):
            Circle(F4_R_3, mode=Mode.SUBTRACT)
        with Locations((0, 17.145)):
            Circle(F4_R_3, mode=Mode.SUBTRACT)
        with Locations((5.2980963686, 16.3058639719)):
            Circle(F4_R_3, mode=Mode.SUBTRACT)
        with Locations((17.5117759697, 14.6941247574)):
            Circle(F4_R_3, mode=Mode.SUBTRACT)
        with Locations((13.6510454063, 18.3365361864)):
            Circle(F4_R_3, mode=Mode.SUBTRACT)
        with Locations((20.6807001389, 19.7190077531)):
            Circle(F4_R_3, mode=Mode.SUBTRACT)
        with Locations((22.86, 0)):
            Circle(F4_R_3, mode=Mode.SUBTRACT)
        with Locations((28.575, 0)):
            Circle(F4_R_3, mode=Mode.SUBTRACT)
        with Locations((22.2438057415, 5.2718788052)):
            Circle(F4_R_3, mode=Mode.SUBTRACT)
        with Locations((28.0586125243, 5.4078543076)):
            Circle(F4_R_3, mode=Mode.SUBTRACT)
        with Locations((24.0388197007, 15.4488113588)):
            Circle(F4_R_3, mode=Mode.SUBTRACT)
        with Locations((26.5281136859, 10.6202546705)):
            Circle(F4_R_3, mode=Mode.SUBTRACT)
        with Locations((3.9695973415, 22.5127052339)):
            Circle(F4_R_3, mode=Mode.SUBTRACT)
        with Locations((9.0543834517, 20.9904202033)):
            Circle(F4_R_3, mode=Mode.SUBTRACT)
        with Locations((1.3596532447, 28.5426342172)):
            Circle(F4_R_3, mode=Mode.SUBTRACT)
        with Locations((6.7368115822, 27.7695155648)):
            Circle(F4_R_3, mode=Mode.SUBTRACT)
        with Locations((11.8704839965, 25.9927342673)):
            Circle(F4_R_3, mode=Mode.SUBTRACT)
        with Locations((16.575126191, 23.2765078298)):
            Circle(F4_R_3, mode=Mode.SUBTRACT)
    extrude(amount=F5_DEPTH)

    # F6 (on face) → F7 (join)
    with BuildSketch(Plane.XY.offset(12.065)):
        with BuildLine():
            ThreePointArc((18.8740600105, -37.0635388889), (35.4609320044, -21.7361072327), (41.5925, 0))
            ThreePointArc((41.5925, 0), (-29.4103387965, 29.4103387965), (0, -41.5925))
            Line((0, -41.5925), (0, -38.1))
            ThreePointArc((0, -38.1), (-26.9407683632, 26.9407683632), (38.1, 0))
            ThreePointArc((38.1, 0), (32.4832964926, -19.9109379231), (17.2892152768, -33.9513333333))
            Line((17.2892152768, -33.9513333333), (18.8740600105, -37.0635388889))
        make_face()
    extrude(amount=F7_DEPTH)

    # F8 (on face) → F9 (join)
    with BuildSketch(Plane(origin=(0, 0, 0), x_dir=(1, 0, 0), z_dir=(0, 0, -1))):
        Circle(F8_R)
        Rectangle(F8_W, F8_H, mode=Mode.SUBTRACT)
        Rectangle(F8_W, F8_H)
        Circle(F8_R_2, mode=Mode.SUBTRACT)
        Circle(F8_R_2)
        Circle(F8_R_3, mode=Mode.SUBTRACT)
    extrude(amount=F9_DEPTH)


solid = f1.part
